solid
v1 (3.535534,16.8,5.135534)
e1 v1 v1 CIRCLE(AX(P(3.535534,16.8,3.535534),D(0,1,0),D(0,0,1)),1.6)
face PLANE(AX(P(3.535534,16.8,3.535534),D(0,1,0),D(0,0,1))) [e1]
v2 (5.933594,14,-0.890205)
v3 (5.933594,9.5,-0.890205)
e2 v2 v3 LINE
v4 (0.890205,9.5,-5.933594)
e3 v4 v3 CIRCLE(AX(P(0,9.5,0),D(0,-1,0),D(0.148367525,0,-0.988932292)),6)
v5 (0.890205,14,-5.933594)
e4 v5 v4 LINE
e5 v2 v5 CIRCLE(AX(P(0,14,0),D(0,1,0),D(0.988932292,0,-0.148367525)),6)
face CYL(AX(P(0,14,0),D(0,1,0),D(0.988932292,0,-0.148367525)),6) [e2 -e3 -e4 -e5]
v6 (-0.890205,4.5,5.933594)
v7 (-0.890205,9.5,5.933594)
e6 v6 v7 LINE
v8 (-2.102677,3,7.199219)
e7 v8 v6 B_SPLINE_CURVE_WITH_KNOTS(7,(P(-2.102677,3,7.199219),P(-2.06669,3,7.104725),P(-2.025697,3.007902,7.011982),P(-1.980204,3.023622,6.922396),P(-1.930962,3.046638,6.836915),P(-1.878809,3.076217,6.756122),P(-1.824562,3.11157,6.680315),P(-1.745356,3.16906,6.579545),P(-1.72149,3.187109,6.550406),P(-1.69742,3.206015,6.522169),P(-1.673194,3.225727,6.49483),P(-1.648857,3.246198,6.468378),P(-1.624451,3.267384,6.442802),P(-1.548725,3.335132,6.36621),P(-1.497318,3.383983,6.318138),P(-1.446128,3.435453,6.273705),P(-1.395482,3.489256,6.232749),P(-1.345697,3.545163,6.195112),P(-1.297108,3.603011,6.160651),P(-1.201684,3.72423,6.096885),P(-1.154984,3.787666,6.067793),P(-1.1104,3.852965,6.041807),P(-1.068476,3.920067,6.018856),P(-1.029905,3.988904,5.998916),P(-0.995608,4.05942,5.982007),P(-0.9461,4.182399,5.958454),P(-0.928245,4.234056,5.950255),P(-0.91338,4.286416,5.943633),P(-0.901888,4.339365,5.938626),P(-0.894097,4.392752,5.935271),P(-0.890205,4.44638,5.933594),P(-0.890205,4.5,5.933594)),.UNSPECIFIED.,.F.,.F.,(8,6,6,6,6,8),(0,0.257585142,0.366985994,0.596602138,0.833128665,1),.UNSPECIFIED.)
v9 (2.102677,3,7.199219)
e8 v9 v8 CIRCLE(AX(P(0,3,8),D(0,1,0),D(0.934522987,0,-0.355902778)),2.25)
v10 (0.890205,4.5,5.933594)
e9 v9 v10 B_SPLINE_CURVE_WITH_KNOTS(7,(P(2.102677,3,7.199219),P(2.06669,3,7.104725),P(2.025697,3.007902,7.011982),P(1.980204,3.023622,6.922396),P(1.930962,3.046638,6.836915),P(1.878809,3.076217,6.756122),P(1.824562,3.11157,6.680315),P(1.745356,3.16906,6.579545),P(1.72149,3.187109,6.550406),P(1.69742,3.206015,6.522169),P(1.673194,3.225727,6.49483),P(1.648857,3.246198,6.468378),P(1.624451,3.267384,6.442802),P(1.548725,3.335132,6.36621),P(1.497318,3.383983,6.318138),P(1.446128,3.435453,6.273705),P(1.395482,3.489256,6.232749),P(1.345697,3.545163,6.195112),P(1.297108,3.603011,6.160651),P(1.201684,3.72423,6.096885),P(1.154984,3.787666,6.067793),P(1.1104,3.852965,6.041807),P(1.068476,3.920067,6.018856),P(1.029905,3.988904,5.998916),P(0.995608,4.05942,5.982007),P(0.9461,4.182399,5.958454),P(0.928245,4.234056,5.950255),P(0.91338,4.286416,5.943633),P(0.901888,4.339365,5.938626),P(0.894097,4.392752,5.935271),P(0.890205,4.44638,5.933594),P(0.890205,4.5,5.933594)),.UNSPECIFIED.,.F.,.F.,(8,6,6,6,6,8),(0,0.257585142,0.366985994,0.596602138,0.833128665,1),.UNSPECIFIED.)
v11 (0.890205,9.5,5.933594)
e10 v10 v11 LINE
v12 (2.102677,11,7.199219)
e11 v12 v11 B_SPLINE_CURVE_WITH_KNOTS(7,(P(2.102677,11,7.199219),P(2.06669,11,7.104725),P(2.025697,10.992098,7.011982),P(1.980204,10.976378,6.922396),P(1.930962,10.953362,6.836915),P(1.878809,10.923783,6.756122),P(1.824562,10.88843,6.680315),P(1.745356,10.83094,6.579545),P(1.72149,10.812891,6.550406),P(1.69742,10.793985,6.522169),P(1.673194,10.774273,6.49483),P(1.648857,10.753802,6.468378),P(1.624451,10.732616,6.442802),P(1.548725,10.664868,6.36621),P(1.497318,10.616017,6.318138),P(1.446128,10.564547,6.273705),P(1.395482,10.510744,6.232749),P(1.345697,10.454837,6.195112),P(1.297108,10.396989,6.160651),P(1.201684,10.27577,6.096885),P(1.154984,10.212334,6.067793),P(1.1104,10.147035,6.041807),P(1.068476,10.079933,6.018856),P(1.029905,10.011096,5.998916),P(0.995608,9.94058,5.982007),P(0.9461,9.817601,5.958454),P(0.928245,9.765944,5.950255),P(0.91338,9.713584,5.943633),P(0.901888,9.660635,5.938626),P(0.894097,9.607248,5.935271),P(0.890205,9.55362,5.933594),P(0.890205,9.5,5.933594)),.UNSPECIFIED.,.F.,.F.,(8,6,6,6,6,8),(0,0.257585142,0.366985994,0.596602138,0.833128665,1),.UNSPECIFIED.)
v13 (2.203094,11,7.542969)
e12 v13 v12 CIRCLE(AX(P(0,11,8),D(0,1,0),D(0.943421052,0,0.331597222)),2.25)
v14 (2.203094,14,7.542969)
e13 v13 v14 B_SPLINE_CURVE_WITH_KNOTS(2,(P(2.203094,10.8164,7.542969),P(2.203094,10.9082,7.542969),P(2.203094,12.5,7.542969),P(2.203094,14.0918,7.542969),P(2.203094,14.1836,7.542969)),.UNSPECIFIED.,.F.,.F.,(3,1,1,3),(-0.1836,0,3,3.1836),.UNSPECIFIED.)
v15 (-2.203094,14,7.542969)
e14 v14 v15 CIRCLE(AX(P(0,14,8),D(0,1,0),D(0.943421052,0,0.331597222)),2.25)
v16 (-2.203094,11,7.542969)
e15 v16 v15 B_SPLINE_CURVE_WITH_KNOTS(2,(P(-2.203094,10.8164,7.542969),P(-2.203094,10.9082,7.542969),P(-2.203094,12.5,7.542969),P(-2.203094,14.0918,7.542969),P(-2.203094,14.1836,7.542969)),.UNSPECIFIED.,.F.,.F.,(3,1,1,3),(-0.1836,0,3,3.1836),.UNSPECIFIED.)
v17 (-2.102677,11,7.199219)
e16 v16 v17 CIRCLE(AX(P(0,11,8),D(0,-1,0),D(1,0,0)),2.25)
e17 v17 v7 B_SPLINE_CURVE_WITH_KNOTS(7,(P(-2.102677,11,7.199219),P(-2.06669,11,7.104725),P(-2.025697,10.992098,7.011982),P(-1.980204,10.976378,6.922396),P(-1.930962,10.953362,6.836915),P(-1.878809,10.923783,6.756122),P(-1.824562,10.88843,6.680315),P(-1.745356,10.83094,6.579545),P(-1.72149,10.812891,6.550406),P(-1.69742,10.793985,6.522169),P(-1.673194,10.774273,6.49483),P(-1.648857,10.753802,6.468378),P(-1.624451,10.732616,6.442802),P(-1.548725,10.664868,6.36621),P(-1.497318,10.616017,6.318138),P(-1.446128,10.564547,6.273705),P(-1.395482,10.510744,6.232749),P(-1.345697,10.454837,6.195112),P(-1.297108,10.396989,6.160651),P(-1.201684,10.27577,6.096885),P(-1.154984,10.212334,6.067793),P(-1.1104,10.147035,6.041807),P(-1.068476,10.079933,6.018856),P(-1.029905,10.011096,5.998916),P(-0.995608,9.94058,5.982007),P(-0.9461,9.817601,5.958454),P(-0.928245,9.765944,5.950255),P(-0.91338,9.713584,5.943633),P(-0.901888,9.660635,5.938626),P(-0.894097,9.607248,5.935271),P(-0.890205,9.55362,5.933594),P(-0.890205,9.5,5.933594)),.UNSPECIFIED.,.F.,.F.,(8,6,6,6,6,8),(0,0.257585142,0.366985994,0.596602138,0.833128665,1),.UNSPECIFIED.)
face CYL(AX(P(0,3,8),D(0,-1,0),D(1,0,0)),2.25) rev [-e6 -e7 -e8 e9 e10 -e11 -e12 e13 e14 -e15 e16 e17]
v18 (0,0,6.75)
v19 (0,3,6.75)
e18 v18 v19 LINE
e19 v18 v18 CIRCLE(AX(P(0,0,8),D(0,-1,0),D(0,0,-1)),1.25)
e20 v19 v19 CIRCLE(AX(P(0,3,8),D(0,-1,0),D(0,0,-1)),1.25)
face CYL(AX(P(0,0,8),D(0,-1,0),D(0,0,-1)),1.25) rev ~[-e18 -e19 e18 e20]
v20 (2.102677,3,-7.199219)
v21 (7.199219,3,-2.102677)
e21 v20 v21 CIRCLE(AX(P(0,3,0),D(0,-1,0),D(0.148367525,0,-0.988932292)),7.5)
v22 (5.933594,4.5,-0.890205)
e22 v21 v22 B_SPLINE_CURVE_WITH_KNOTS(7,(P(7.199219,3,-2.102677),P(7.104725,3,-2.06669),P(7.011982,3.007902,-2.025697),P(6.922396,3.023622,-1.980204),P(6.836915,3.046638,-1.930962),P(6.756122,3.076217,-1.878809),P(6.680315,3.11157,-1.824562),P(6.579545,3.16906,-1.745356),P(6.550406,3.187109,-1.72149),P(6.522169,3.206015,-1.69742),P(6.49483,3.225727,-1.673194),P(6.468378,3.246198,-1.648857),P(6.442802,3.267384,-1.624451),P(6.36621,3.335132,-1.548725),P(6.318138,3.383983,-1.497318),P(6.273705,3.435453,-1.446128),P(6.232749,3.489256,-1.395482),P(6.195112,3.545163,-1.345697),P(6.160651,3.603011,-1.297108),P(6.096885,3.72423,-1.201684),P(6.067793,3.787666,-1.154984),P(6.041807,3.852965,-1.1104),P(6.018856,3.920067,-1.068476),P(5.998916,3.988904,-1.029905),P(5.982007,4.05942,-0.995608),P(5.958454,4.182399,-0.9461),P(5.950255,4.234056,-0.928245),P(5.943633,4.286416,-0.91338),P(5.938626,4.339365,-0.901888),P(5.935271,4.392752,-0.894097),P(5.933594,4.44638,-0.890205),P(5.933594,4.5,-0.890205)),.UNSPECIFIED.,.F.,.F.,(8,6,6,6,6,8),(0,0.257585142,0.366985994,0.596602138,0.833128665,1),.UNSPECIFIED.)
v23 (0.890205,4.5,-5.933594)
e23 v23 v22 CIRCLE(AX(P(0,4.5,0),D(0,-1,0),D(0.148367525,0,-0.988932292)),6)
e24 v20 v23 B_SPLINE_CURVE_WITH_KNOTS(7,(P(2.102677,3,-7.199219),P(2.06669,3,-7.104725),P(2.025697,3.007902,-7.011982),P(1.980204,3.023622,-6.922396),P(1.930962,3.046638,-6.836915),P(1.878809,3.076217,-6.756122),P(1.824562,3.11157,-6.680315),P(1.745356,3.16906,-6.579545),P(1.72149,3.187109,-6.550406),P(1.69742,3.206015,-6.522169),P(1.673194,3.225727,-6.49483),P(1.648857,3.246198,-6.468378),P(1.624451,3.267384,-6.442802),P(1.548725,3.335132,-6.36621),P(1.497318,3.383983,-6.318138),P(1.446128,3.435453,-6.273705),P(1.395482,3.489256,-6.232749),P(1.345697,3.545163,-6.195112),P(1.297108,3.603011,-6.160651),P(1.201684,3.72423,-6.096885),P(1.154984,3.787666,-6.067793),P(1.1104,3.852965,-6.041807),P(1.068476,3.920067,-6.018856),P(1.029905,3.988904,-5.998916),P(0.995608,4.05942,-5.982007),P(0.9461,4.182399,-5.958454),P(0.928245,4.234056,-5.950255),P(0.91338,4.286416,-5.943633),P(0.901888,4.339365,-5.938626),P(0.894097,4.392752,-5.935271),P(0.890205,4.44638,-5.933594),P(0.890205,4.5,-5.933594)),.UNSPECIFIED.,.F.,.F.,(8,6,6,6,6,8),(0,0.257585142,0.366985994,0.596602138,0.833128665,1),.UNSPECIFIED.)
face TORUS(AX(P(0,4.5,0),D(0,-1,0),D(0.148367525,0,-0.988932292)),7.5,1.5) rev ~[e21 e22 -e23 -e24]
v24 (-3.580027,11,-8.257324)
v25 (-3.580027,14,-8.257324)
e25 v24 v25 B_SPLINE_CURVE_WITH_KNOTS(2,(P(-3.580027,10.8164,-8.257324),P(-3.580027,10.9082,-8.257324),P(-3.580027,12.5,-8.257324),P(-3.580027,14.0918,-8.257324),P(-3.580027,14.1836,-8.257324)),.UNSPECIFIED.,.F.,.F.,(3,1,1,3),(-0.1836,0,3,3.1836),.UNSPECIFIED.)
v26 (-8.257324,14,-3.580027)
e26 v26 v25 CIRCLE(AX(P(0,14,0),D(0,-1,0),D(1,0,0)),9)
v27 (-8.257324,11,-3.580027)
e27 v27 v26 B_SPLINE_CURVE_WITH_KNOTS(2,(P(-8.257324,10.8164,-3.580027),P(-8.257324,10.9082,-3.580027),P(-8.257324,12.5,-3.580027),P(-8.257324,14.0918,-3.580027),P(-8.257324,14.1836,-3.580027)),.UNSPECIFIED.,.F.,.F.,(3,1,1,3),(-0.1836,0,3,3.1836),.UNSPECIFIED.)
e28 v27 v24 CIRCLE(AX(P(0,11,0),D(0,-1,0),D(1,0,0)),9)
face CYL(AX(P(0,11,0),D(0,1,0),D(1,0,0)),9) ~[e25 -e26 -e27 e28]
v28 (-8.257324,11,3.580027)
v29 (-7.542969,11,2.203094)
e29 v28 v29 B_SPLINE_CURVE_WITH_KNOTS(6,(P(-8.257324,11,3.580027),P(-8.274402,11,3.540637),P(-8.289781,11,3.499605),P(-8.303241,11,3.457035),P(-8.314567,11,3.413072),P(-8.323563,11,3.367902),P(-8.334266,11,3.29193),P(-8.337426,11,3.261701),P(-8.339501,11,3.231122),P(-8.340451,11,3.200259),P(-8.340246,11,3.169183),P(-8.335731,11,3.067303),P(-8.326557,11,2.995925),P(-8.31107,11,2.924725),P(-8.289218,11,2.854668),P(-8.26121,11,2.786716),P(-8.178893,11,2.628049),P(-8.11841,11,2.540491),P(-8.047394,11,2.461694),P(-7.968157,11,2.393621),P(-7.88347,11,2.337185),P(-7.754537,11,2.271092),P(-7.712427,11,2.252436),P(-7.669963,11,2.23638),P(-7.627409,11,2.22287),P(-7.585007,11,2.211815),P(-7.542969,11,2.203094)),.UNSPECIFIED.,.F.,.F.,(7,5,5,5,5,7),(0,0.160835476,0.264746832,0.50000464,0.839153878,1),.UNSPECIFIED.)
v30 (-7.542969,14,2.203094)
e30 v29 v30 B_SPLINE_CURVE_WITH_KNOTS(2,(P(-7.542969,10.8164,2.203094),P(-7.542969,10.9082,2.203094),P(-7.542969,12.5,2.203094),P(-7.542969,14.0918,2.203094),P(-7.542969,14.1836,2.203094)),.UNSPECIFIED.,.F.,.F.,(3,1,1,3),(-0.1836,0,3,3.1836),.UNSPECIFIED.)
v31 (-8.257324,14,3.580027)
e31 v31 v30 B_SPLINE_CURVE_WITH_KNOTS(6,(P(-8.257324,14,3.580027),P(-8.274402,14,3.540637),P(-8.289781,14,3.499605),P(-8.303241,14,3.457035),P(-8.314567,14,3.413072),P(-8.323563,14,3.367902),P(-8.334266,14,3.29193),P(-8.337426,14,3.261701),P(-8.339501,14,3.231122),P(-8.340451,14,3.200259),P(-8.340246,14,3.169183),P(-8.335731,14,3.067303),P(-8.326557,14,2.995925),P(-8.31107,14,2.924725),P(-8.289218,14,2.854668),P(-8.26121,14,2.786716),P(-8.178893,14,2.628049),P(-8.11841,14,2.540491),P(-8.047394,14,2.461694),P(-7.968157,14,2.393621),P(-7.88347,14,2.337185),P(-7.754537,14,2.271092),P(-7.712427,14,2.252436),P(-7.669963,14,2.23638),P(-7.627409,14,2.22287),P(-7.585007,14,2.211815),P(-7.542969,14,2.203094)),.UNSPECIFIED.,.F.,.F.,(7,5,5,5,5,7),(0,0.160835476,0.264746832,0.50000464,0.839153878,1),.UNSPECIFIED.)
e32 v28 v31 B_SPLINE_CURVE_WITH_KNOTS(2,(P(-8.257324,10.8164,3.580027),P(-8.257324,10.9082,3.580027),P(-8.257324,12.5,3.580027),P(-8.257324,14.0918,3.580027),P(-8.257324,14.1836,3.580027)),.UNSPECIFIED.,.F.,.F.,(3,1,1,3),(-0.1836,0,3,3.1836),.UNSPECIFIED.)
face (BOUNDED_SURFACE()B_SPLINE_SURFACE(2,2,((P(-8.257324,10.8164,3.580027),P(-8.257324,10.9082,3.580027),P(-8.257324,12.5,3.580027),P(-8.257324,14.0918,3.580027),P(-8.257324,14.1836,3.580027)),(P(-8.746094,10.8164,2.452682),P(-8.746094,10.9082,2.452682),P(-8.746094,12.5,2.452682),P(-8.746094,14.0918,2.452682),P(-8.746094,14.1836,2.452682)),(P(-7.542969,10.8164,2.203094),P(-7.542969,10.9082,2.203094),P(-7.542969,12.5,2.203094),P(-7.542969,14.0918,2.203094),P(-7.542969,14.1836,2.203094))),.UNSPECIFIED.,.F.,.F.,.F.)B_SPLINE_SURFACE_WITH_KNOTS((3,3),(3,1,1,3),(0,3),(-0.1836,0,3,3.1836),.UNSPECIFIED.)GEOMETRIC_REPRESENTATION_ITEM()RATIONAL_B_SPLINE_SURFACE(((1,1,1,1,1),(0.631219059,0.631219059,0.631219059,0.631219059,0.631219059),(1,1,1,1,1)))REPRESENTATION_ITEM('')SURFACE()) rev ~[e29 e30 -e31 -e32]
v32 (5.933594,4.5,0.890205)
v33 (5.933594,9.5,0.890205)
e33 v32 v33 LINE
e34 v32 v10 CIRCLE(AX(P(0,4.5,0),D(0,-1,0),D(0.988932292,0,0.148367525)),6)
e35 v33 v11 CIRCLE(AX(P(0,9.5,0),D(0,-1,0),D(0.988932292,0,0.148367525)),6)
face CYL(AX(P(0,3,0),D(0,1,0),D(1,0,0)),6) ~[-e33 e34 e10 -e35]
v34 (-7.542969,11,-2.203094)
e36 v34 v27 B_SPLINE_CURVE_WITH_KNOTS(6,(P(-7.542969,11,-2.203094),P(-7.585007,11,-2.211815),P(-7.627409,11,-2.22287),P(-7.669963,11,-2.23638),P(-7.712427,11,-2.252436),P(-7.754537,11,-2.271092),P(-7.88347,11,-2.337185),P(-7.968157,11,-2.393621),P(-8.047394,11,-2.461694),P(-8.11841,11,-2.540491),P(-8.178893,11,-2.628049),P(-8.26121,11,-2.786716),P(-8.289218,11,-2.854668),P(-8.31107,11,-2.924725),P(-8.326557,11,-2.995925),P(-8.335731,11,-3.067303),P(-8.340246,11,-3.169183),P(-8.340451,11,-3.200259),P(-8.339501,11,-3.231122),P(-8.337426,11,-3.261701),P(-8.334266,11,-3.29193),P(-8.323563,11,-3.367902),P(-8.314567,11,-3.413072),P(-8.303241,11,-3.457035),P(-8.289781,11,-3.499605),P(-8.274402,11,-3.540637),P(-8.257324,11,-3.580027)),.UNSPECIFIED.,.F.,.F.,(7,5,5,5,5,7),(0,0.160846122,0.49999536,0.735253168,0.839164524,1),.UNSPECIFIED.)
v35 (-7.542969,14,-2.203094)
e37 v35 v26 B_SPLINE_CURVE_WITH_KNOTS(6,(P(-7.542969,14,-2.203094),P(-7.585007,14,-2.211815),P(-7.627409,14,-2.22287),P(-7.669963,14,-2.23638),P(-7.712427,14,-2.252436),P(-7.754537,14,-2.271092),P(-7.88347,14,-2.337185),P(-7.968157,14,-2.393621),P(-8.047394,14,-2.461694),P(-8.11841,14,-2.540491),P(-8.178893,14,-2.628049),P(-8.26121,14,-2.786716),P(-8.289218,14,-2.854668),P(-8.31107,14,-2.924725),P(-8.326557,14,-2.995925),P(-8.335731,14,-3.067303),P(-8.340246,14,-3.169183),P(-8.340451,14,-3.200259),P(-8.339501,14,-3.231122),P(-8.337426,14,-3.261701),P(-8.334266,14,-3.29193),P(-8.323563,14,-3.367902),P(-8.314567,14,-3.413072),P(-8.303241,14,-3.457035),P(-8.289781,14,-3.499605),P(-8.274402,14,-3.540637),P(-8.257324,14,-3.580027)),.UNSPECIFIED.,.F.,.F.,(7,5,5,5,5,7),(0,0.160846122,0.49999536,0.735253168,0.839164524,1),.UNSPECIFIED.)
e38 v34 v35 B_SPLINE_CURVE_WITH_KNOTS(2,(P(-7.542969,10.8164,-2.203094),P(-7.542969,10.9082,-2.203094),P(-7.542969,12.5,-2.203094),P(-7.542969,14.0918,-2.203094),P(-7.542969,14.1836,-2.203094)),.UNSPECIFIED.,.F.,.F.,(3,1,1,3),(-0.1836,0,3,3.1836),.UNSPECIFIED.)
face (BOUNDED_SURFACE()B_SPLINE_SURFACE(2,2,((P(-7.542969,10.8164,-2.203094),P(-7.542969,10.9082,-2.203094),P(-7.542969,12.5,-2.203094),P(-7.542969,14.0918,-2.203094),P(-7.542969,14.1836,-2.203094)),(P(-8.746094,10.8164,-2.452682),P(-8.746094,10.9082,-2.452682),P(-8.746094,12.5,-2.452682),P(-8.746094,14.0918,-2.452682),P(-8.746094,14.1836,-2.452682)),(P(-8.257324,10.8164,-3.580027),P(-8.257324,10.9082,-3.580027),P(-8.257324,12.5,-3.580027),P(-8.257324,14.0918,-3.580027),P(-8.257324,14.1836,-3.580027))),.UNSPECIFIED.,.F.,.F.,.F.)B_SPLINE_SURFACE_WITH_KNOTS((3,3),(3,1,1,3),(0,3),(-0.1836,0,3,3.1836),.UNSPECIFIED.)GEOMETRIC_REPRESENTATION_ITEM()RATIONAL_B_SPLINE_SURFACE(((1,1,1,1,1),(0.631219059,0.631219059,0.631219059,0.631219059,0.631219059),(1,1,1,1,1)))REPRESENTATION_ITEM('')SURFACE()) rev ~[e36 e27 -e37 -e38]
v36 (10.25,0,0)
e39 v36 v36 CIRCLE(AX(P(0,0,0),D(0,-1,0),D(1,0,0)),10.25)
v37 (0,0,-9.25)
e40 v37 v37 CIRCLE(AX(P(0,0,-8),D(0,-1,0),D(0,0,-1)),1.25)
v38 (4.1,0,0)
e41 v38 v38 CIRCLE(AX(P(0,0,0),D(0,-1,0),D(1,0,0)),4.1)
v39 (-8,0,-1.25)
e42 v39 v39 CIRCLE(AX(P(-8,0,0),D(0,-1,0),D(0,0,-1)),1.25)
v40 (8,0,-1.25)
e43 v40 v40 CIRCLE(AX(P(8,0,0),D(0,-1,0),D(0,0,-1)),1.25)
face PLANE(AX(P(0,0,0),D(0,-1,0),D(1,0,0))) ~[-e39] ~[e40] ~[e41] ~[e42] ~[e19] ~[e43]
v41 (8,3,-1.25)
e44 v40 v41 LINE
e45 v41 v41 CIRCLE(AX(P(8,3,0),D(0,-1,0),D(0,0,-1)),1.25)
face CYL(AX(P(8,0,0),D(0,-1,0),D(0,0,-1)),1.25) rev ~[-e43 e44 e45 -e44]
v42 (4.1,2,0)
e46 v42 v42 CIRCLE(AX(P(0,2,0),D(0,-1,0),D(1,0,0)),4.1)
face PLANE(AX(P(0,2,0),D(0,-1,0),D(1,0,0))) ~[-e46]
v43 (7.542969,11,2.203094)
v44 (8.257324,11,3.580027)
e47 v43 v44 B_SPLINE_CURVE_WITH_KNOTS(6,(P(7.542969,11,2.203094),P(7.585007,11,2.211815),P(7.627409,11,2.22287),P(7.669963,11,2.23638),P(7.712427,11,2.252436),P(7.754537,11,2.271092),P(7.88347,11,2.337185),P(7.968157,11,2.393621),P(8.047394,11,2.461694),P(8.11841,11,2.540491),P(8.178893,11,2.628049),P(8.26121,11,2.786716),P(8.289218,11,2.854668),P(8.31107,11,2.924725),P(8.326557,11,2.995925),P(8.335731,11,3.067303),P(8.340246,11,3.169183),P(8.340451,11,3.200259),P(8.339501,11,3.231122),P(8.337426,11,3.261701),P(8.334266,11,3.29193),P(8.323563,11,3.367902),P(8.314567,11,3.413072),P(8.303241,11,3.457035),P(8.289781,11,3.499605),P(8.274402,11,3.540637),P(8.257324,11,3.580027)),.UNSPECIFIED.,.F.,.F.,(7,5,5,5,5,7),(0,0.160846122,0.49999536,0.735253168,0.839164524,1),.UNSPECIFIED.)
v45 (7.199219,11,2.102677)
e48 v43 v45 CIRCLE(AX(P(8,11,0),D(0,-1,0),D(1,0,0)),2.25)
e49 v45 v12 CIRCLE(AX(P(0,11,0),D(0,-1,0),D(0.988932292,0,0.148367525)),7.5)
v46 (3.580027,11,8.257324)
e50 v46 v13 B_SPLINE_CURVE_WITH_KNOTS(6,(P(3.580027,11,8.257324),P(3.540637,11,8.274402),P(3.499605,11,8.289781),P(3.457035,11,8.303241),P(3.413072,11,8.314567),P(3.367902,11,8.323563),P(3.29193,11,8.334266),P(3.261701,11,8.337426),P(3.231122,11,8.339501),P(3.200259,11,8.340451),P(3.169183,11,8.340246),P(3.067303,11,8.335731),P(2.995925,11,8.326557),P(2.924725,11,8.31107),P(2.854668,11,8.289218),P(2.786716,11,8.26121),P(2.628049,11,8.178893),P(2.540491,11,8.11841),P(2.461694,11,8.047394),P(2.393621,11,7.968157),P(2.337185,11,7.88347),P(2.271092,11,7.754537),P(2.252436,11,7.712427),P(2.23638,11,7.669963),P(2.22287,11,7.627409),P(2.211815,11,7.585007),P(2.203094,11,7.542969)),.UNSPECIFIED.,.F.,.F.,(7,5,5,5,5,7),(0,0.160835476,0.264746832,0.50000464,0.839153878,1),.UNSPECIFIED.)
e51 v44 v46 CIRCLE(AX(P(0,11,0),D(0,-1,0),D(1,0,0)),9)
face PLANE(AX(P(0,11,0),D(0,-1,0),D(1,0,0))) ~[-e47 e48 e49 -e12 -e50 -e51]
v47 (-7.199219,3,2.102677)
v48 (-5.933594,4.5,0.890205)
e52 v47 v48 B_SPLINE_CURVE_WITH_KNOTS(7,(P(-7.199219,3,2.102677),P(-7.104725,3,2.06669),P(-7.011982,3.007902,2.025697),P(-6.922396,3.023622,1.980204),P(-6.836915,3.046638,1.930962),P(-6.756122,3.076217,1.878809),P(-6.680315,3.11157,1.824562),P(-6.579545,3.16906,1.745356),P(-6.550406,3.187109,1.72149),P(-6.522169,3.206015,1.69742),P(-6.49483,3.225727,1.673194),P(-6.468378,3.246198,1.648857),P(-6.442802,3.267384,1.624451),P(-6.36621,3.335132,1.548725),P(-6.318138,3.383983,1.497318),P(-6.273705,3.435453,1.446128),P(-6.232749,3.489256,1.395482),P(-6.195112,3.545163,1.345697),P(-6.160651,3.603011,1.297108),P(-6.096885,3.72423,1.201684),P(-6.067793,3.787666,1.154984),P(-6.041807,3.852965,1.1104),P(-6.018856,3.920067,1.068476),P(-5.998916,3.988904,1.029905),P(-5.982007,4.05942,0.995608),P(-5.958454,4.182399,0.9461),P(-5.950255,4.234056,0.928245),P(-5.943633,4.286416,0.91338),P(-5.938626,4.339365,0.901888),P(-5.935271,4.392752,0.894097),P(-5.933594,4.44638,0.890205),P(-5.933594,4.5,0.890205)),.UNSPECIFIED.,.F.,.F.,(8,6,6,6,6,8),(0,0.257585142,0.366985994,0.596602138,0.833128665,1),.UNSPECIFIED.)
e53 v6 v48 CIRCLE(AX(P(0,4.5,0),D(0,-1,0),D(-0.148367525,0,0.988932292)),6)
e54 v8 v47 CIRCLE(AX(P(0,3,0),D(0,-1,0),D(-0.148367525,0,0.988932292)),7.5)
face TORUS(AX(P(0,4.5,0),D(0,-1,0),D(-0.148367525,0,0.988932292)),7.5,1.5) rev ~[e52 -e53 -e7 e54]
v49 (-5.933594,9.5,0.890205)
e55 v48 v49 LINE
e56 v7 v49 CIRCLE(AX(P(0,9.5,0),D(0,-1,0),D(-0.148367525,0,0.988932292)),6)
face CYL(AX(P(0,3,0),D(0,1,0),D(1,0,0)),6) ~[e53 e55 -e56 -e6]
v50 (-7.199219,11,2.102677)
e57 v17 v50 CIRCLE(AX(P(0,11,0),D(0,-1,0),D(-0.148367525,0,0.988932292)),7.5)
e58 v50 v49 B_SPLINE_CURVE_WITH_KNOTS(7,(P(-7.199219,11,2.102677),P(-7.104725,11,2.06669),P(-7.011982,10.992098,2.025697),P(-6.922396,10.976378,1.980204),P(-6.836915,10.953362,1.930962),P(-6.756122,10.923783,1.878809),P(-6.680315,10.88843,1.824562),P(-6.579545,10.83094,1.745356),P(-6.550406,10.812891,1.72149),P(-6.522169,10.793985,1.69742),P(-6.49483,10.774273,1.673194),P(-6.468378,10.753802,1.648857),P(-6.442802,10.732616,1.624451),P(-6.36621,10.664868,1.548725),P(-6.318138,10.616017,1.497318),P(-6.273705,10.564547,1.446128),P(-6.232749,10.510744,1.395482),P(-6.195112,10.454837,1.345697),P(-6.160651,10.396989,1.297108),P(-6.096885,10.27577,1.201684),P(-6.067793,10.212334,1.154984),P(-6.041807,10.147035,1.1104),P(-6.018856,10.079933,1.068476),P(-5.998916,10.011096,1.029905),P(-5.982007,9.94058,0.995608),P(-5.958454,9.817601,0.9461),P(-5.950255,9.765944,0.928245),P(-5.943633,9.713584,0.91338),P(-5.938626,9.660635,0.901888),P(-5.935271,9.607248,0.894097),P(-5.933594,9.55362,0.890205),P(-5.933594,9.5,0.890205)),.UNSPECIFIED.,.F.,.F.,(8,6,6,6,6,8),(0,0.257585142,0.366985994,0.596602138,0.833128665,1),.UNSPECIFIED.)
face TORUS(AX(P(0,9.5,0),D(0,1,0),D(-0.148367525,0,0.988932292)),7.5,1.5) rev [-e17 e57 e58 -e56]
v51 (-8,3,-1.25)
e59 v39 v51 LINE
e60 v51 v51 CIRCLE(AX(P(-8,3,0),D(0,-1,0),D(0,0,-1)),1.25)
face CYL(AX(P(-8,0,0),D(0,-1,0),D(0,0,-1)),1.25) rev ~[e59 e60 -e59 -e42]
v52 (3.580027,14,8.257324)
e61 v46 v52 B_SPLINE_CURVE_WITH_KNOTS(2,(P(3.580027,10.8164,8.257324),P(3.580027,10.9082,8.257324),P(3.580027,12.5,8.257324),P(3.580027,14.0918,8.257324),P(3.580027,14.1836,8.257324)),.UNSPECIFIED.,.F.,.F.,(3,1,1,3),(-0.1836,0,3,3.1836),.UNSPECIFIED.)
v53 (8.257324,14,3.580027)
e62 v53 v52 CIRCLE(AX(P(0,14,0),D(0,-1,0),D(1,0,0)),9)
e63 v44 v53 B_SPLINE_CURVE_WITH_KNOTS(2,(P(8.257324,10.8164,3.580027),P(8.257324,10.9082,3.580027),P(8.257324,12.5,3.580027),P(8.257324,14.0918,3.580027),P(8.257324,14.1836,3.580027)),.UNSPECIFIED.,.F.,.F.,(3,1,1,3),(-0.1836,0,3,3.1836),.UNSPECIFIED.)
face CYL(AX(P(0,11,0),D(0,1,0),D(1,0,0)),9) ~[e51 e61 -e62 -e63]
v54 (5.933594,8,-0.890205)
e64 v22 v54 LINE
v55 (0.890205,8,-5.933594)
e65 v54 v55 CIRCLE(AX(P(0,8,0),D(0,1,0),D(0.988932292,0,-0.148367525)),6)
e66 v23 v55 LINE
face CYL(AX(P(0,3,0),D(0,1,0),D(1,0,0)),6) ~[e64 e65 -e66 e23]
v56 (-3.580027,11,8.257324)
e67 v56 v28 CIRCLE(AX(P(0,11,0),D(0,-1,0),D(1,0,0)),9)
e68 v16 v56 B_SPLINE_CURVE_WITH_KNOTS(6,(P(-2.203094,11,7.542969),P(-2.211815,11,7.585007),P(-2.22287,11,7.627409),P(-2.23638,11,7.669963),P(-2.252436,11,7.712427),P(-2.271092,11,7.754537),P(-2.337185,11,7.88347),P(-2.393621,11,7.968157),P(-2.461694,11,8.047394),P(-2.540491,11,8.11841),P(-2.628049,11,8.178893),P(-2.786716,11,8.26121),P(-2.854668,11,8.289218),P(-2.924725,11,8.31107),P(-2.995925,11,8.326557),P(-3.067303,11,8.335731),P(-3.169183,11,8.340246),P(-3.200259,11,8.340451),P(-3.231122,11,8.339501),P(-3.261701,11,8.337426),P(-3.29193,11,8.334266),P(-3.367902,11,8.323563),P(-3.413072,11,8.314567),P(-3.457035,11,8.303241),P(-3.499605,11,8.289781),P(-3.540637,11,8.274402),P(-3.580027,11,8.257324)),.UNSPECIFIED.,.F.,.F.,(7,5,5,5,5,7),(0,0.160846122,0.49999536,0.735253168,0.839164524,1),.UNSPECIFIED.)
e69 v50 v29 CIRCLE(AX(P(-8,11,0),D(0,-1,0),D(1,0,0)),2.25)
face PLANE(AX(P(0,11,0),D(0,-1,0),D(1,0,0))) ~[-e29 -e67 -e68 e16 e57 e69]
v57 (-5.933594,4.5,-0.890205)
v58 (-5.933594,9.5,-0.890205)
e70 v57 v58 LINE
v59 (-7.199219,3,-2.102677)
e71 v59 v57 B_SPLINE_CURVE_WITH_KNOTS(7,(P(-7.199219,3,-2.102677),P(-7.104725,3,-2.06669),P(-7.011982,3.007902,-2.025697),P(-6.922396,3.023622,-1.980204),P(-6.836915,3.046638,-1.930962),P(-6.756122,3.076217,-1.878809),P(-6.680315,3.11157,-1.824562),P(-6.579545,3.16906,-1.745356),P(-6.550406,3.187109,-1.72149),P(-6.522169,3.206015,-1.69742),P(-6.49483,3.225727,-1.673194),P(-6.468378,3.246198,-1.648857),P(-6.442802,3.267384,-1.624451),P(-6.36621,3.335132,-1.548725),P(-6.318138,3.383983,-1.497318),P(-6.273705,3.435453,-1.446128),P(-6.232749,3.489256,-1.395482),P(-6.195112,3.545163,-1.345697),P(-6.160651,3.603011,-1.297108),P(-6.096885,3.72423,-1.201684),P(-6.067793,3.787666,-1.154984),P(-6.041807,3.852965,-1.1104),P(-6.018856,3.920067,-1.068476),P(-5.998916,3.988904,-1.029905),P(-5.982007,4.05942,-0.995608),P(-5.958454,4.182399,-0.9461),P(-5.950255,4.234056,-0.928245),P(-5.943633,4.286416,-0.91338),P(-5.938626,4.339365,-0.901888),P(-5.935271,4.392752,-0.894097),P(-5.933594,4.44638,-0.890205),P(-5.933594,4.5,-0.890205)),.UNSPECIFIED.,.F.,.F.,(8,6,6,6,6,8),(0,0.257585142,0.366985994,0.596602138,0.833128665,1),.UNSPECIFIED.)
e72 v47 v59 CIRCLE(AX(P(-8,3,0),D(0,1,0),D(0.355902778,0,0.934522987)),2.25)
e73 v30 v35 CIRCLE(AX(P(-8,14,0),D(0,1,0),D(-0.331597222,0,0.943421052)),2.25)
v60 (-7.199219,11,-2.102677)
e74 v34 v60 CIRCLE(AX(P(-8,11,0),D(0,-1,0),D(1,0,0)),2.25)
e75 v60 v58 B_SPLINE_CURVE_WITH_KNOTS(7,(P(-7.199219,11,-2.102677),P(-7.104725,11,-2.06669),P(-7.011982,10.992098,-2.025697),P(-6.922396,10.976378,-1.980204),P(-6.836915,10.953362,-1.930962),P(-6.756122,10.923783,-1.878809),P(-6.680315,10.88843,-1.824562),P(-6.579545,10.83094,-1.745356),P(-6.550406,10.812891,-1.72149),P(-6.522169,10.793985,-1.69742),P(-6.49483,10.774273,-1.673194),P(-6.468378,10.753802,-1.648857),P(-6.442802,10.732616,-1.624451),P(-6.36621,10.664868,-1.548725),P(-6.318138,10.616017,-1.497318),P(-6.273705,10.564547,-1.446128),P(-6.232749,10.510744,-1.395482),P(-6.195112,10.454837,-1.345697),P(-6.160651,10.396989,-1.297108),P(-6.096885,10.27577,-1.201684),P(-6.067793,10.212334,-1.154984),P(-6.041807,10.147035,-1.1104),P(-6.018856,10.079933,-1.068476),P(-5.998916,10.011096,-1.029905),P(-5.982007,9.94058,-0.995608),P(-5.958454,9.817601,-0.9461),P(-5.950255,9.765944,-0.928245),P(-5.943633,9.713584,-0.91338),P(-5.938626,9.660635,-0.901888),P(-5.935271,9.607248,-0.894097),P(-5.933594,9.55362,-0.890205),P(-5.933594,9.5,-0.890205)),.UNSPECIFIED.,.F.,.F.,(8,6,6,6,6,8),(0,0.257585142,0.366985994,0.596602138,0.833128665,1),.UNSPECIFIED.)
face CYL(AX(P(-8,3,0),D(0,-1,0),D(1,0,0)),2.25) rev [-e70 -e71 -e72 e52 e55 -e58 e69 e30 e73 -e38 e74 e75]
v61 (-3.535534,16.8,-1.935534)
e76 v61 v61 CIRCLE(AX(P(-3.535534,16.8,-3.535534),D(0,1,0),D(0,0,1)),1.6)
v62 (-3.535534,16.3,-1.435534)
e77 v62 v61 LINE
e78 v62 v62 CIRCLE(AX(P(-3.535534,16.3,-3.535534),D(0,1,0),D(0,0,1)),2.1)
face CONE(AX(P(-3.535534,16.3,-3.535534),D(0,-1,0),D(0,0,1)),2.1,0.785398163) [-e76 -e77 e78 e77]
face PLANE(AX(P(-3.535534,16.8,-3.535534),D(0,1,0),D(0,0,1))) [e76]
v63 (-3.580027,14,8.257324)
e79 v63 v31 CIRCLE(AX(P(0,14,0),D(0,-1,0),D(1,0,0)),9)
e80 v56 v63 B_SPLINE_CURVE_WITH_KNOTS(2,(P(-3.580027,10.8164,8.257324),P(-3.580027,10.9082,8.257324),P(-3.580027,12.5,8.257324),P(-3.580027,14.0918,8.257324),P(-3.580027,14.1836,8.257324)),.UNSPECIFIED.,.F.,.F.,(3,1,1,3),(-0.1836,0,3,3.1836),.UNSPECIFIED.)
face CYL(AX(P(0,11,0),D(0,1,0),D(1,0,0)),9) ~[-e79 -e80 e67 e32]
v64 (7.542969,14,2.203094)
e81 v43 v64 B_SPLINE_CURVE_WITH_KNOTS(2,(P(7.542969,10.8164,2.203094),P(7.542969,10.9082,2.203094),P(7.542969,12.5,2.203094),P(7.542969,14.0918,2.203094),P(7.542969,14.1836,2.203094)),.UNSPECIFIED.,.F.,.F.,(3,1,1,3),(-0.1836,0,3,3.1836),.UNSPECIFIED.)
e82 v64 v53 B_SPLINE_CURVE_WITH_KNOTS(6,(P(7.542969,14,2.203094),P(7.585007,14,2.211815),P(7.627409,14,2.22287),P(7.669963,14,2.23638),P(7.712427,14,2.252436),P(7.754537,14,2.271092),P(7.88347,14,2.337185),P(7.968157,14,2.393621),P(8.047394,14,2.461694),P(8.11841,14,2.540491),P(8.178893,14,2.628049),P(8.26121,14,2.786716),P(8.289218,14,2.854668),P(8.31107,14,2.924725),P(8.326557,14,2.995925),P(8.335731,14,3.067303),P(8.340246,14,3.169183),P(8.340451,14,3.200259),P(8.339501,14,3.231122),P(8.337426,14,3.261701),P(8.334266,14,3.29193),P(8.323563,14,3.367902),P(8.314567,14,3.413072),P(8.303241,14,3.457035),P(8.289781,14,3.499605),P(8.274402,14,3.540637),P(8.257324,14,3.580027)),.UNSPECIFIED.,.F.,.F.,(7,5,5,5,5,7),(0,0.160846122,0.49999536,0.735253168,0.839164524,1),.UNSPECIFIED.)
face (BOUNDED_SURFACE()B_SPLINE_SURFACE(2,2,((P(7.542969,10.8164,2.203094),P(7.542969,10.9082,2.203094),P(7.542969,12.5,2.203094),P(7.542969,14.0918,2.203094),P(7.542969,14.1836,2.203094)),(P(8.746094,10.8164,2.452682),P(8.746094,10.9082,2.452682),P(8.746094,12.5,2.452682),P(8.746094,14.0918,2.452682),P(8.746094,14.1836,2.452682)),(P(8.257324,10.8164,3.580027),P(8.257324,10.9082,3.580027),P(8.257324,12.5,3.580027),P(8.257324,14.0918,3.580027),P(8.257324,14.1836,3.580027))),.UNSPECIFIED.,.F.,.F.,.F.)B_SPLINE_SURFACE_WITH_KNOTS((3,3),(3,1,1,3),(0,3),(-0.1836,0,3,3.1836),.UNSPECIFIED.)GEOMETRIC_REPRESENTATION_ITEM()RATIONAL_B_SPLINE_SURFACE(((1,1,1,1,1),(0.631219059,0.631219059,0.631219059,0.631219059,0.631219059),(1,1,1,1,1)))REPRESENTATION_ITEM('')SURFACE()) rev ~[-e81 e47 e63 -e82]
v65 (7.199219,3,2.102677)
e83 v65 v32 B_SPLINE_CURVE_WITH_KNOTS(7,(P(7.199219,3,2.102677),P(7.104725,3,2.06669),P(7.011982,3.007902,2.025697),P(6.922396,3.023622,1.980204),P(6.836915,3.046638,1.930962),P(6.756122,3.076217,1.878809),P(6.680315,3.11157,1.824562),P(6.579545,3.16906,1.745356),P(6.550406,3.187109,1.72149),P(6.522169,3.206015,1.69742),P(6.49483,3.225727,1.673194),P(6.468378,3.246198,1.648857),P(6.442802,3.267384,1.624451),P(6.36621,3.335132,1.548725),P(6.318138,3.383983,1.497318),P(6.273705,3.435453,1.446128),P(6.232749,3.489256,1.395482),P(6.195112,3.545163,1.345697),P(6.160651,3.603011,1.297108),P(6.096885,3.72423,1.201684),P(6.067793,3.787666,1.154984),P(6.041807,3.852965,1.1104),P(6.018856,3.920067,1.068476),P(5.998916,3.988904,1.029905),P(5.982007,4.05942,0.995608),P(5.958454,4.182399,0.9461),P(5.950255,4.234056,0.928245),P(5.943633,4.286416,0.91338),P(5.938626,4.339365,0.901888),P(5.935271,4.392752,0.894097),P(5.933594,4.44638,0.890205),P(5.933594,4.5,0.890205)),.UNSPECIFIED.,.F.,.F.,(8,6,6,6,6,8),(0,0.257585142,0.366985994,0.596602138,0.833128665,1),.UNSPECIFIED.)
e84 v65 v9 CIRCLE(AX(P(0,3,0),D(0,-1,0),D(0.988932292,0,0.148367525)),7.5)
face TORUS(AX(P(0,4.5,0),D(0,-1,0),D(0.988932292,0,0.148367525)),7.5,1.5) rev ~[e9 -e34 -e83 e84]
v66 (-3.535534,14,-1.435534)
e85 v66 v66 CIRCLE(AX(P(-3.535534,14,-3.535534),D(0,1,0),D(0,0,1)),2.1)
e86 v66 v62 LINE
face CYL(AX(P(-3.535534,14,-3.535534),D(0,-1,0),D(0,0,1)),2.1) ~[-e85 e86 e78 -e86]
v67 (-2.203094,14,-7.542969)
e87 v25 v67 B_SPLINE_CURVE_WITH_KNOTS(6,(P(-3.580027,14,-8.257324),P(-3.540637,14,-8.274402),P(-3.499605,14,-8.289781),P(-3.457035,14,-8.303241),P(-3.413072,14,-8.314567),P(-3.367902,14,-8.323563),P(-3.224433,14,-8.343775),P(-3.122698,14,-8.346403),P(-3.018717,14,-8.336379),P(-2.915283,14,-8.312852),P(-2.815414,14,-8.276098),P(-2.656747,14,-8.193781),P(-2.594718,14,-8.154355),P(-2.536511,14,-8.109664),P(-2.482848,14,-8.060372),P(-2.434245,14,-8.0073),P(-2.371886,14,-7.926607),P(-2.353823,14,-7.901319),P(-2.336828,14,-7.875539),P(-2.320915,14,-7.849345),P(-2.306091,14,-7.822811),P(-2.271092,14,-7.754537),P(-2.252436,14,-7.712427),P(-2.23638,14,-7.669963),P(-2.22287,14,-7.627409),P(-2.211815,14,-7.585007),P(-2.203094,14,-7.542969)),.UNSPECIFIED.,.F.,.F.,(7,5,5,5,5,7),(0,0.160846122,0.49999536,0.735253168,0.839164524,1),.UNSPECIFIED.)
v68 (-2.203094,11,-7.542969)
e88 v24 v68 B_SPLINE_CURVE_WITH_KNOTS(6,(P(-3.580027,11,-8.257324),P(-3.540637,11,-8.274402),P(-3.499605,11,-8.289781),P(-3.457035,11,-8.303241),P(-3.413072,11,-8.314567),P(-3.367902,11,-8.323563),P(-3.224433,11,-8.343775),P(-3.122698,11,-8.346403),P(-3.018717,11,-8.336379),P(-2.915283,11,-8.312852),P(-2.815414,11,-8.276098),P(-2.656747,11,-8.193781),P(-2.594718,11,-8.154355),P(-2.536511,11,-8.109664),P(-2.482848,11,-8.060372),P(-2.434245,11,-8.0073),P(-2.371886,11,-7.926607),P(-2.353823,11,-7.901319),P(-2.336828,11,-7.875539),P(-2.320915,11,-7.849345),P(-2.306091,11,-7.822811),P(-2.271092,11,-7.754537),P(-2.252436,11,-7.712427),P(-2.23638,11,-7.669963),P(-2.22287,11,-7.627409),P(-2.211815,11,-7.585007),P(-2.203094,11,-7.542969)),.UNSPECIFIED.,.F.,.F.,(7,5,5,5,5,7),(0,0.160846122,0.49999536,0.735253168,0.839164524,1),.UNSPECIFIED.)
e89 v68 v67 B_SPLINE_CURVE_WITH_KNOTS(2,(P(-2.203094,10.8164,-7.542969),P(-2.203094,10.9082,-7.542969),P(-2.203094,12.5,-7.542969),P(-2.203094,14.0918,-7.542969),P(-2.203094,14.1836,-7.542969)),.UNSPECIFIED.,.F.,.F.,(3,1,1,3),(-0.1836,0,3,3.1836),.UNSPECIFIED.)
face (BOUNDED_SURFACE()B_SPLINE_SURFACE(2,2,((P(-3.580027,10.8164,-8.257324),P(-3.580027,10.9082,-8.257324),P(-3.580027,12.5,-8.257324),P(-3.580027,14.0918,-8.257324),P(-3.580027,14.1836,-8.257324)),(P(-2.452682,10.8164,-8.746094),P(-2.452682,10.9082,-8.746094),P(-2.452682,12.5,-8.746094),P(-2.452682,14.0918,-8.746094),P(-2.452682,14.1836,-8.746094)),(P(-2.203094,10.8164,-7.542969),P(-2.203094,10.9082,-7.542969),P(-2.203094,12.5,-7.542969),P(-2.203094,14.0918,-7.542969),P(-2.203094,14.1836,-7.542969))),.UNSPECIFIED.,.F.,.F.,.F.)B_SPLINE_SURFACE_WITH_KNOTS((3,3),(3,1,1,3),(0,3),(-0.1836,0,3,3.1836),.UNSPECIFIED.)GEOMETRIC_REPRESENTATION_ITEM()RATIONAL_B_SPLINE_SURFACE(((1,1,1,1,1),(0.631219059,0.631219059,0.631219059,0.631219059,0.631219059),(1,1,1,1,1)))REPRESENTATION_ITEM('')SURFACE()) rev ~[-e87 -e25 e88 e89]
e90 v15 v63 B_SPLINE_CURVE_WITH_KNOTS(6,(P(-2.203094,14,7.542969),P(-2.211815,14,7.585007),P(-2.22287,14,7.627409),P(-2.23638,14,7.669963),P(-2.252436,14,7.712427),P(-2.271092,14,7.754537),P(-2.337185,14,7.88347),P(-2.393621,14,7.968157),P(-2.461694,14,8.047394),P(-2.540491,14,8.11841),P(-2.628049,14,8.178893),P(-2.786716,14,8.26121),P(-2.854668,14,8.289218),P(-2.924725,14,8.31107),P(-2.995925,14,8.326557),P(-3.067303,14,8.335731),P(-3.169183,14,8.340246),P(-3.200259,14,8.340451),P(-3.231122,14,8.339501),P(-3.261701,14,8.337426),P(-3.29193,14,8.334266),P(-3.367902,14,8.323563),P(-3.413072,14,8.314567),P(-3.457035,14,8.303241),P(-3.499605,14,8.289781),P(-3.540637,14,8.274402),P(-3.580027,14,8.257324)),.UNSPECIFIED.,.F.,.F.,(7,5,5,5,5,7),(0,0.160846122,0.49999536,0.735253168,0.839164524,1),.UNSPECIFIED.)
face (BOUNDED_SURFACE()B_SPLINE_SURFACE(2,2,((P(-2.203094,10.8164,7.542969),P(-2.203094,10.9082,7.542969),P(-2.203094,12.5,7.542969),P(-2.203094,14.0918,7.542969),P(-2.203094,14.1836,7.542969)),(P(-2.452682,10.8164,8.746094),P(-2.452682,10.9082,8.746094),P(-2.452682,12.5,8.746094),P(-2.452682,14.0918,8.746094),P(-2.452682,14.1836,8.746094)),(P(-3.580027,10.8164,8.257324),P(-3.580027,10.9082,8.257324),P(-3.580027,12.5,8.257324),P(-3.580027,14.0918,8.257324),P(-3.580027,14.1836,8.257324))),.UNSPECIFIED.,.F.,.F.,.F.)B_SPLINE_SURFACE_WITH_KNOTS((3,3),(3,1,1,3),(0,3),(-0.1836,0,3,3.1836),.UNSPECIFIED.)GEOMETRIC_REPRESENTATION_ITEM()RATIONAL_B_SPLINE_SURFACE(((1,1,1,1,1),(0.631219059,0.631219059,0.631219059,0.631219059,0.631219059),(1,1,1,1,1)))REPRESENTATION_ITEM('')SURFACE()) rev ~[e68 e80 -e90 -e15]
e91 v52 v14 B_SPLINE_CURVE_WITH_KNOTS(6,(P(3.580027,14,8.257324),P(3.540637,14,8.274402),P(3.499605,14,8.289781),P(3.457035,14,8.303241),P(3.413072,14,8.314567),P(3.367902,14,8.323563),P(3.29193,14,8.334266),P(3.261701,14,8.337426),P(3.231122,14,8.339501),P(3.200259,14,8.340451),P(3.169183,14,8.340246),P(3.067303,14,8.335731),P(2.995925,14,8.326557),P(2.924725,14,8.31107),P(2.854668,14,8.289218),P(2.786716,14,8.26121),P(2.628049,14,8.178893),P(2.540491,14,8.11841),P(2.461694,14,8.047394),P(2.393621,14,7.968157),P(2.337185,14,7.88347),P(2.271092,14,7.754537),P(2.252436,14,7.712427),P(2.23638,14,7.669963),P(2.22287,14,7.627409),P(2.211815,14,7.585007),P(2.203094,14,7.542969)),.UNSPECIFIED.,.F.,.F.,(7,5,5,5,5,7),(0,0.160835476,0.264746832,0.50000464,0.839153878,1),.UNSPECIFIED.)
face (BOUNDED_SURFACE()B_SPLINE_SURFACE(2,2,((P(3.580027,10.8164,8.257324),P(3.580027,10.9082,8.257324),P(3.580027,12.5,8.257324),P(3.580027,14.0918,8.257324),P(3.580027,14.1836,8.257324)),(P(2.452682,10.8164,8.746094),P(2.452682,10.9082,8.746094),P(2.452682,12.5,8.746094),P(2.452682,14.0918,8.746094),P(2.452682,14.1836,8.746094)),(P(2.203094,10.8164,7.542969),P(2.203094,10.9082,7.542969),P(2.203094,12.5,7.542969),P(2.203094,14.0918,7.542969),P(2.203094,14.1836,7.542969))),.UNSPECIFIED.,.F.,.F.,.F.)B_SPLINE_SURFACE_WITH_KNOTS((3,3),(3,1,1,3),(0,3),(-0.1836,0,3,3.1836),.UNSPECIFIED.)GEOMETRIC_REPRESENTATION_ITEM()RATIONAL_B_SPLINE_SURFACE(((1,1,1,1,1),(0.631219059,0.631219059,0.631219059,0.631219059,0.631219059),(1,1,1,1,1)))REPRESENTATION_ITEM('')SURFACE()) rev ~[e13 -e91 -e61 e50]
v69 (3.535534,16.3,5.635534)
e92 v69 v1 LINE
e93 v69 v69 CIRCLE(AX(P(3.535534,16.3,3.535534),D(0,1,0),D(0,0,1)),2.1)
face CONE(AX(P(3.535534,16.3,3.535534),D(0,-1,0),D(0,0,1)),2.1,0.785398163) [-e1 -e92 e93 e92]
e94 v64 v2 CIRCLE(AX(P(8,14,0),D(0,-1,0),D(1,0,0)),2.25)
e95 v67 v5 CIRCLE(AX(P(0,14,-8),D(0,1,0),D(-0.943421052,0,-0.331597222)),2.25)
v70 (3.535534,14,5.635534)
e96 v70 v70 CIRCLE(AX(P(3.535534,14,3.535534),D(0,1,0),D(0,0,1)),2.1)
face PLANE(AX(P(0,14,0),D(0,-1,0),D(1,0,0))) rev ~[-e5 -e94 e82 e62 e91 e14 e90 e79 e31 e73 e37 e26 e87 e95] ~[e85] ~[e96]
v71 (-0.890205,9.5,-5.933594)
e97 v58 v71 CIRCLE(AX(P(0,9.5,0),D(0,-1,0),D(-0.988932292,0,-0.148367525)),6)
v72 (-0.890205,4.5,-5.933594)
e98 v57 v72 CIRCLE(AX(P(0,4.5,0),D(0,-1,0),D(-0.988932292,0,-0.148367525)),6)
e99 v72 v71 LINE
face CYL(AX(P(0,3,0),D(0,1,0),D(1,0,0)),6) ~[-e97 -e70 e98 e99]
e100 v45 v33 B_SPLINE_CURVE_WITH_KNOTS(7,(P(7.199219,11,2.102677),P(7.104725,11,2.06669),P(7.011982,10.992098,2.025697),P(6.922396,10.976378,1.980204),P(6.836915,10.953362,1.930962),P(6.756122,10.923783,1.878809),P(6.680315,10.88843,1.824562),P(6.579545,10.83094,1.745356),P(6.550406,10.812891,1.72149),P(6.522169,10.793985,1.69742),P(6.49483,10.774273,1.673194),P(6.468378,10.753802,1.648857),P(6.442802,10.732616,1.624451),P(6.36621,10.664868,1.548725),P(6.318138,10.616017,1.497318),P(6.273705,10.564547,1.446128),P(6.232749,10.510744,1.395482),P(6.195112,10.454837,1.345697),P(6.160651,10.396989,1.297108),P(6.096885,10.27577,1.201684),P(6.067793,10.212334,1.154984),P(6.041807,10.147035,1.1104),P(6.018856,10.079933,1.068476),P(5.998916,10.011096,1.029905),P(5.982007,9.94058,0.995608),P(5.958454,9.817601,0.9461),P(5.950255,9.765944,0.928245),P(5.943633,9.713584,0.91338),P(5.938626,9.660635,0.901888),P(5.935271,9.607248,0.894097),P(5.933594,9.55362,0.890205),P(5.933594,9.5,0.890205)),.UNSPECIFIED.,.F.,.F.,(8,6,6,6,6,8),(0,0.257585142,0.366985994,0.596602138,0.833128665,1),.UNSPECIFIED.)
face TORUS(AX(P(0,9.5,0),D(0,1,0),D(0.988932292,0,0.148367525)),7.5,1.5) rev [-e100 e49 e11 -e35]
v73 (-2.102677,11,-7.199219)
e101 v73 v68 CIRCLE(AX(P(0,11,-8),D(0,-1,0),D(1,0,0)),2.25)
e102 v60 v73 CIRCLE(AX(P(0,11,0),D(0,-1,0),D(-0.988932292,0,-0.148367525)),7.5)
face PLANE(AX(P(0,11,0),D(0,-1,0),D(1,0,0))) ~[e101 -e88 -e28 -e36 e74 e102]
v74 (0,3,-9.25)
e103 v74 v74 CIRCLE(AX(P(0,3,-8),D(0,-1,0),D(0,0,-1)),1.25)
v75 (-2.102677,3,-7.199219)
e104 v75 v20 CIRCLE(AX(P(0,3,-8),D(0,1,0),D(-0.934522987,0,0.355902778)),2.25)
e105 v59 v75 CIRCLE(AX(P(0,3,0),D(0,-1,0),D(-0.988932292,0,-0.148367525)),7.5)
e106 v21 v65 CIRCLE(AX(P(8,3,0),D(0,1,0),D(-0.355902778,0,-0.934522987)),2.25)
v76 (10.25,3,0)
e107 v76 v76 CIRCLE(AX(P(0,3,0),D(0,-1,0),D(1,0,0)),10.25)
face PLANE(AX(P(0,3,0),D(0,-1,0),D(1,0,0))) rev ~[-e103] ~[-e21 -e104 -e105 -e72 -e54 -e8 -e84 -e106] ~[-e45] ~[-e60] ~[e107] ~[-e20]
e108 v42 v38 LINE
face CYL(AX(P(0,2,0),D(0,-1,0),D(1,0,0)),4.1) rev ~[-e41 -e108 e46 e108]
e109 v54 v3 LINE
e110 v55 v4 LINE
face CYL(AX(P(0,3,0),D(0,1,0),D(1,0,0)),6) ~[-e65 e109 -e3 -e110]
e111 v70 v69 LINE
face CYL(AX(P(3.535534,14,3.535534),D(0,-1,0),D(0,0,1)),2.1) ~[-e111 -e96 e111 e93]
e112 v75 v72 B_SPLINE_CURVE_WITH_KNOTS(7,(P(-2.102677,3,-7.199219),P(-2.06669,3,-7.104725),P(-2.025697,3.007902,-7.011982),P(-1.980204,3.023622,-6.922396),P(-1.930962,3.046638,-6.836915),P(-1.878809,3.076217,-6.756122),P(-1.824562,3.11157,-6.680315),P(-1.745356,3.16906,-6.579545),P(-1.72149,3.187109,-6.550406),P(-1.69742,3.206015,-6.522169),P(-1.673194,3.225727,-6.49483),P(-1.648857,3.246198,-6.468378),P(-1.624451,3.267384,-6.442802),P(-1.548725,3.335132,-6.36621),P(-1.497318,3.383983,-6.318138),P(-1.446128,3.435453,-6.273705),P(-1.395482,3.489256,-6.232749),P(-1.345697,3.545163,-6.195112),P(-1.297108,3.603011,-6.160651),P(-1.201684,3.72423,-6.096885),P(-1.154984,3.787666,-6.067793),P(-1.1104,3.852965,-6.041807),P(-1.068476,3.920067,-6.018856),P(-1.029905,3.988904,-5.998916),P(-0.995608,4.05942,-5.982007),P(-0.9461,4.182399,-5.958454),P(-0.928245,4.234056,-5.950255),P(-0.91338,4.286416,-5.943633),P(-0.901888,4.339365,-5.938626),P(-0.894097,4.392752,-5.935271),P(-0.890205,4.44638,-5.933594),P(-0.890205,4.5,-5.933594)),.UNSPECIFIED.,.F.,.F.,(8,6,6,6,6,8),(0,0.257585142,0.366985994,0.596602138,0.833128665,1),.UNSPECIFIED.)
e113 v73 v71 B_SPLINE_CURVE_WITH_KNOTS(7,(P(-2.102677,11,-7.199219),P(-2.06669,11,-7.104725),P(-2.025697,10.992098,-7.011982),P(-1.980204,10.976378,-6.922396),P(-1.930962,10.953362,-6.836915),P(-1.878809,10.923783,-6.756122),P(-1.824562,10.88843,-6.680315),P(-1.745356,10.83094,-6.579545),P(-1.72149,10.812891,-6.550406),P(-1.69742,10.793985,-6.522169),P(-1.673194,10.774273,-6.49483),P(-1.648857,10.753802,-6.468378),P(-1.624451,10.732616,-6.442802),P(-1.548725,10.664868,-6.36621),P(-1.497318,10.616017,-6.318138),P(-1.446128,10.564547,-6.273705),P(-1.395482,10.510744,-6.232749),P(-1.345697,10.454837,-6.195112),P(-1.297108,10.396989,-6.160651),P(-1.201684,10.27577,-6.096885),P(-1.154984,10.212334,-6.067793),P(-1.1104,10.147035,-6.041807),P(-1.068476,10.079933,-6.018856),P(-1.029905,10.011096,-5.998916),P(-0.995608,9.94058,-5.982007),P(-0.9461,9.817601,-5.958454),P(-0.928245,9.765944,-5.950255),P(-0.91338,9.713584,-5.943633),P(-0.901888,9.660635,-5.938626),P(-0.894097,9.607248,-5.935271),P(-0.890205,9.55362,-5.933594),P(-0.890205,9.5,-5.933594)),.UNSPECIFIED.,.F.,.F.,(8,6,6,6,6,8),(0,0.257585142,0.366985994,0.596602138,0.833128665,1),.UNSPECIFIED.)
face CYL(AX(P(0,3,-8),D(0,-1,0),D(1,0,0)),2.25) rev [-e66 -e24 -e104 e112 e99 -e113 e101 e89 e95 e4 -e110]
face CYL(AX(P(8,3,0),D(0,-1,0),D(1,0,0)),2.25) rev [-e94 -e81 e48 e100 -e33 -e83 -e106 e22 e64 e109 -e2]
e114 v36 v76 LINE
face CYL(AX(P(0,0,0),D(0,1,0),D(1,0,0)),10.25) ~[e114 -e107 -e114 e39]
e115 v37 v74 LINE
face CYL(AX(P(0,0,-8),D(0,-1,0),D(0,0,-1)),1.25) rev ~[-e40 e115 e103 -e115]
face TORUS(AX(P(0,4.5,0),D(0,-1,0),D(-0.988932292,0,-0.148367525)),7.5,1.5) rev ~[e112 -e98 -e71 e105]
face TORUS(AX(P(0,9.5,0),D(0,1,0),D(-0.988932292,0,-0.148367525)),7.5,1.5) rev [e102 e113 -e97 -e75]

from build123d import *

# Parameters (mm, degrees)
SKETCH3_R           = 1.25
CUT_EXTRUDE1_DEPTH  = 21.152543264
SKETCH4_R           = 2.1
BOSS_EXTRUDE1_DEPTH = 2.8
SKETCH5_R           = 2.25
SKETCH5_R_2         = 1.25
CUT_EXTRUDE2_DEPTH  = 21.014120016
FILLET1_R           = 1.5
CHAMFER1_SIZE       = 0.5
FILLET2_R           = 1
CUT_EXTRUDE3_DEPTH  = 6


with BuildPart() as part:
    # Sketch2 → Revolve2 (revolve)
    with BuildSketch(Plane.XY):
        Polygon((4.1, 2), (4.1, 0), (10.25, 0), (10.25, 3), (6, 3), (6, 11), (9, 11), (9, 14), (0, 14), (0, 2), align=None)
    revolve(axis=Axis((0, 14, 0), (0, -1, 0)))

    # Sketch3 → Cut-Extrude1 (cut, through all)
    with BuildSketch(Plane.XZ):
        with Locations(Location((0, 8, 0), (0, 0, 270))):
            Circle(SKETCH3_R)
        with Locations(Location((8, 0, 0), (0, 0, 270))):
            Circle(SKETCH3_R)
        with Locations(Location((0, -8, 0), (0, 0, 270))):
            Circle(SKETCH3_R)
        with Locations(Location((-8, 0, 0), (0, 0, 270))):
            Circle(SKETCH3_R)
    extrude(amount=-CUT_EXTRUDE1_DEPTH, mode=Mode.SUBTRACT)

    # Sketch4 → Boss-Extrude1 (add)
    with BuildSketch(Plane(origin=(0, 14, 0), x_dir=(1, 0, 0), z_dir=(0, 1, 0))):
        with Locations(Location((-3.535533906, 3.535533906, 0), (0, 0, 270))):
            Circle(SKETCH4_R)
        with Locations(Location((3.535533906, -3.535533906, 0), (0, 0, 270))):
            Circle(SKETCH4_R)
    extrude(amount=BOSS_EXTRUDE1_DEPTH)

    # Sketch5 → Cut-Extrude2 (cut, through all)
    # profile 1 of 4: a face of its own
    with BuildSketch(Plane(origin=(0, 3, 0), x_dir=(1, 0, 0), z_dir=(0, 1, 0))):
        with Locations((0, -8)):
            Circle(SKETCH5_R)
        with Locations(Location((0, -8, 0), (0, 0, 90))):
            Circle(SKETCH5_R_2, mode=Mode.SUBTRACT)
    # profile 2 of 4: a face of its own
    with BuildSketch(Plane(origin=(0, 3, 0), x_dir=(1, 0, 0), z_dir=(0, 1, 0))):
        with Locations((-8, 0)):
            Circle(SKETCH5_R)
        with Locations(Location((-8, 0, 0), (0, 0, 90))):
            Circle(SKETCH5_R_2, mode=Mode.SUBTRACT)
    # profile 3 of 4: a face of its own
    with BuildSketch(Plane(origin=(0, 3, 0), x_dir=(1, 0, 0), z_dir=(0, 1, 0))):
        with Locations((0, 8)):
            Circle(SKETCH5_R)
        with Locations(Location((0, 8, 0), (0, 0, 90))):
            Circle(SKETCH5_R_2, mode=Mode.SUBTRACT)
    # profile 4 of 4: a face of its own
    with BuildSketch(Plane(origin=(0, 3, 0), x_dir=(1, 0, 0), z_dir=(0, 1, 0))):
        with Locations((8, 0)):
            Circle(SKETCH5_R)
        with Locations(Location((8, 0, 0), (0, 0, 90))):
            Circle(SKETCH5_R_2, mode=Mode.SUBTRACT)
    extrude(amount=CUT_EXTRUDE2_DEPTH, mode=Mode.SUBTRACT)

    # Fillet1
    fillet1_edges = [part.edges().sort_by_distance(p)[0] for p in [
        (4.242640687, 11, 4.242640687),
        (4.242640687, 3, 4.242640687),
        (-4.242640687, 11, 4.242640687),
        (-4.242640687, 11, -4.242640687),
        (4.242640687, 11, -4.242640687),
        (-4.242640687, 3, 4.242640687),
        (-4.242640687, 3, -4.242640687),
        (4.242640687, 3, -4.242640687),
    ]]
    fillet(fillet1_edges, radius=FILLET1_R)

    # Chamfer1
    chamfer1_edges = [part.edges().sort_by_distance(p)[0] for p in [
        (-3.535533906, 16.8, -5.635533906),
        (3.535533906, 16.8, 1.435533906),
    ]]
    chamfer(chamfer1_edges, length=CHAMFER1_SIZE)

    # Fillet2
    fillet2_edges = [part.edges().sort_by_distance(p)[0] for p in [
        (-2.122697368, 12.5, 8.74609375),
        (2.122697368, 12.5, 8.74609375),
        (-8.74609375, 12.5, -2.122697368),
        (-8.74609375, 12.5, 2.122697368),
        (2.122697368, 12.5, -8.74609375),
        (-2.122697368, 12.5, -8.74609375),
        (8.74609375, 12.5, 2.122697368),
        (8.74609375, 12.5, -2.122697368),
    ]]
    fillet(fillet2_edges, radius=FILLET2_R)

    # Sketch6 → Cut-Extrude3 (cut)
    with BuildSketch(Plane(origin=(0, 14, 0), x_dir=(1, 0, 0), z_dir=(0, 1, 0))):
        with BuildLine():
            Line((0.89020515, 5.93359375), (0.89020515, 14.456034247))
            Line((0.89020515, 14.456034247), (13.499051384, 10.673985998))
            Line((13.499051384, 10.673985998), (14.247339916, 0.89020515))
            Line((14.247339916, 0.89020515), (5.93359375, 0.89020515))
            ThreePointArc((5.93359375, 0.89020515), (4.242640687, 4.242640687), (0.89020515, 5.93359375))
        make_face()
    extrude(amount=-CUT_EXTRUDE3_DEPTH, mode=Mode.SUBTRACT)


solid = part.part
